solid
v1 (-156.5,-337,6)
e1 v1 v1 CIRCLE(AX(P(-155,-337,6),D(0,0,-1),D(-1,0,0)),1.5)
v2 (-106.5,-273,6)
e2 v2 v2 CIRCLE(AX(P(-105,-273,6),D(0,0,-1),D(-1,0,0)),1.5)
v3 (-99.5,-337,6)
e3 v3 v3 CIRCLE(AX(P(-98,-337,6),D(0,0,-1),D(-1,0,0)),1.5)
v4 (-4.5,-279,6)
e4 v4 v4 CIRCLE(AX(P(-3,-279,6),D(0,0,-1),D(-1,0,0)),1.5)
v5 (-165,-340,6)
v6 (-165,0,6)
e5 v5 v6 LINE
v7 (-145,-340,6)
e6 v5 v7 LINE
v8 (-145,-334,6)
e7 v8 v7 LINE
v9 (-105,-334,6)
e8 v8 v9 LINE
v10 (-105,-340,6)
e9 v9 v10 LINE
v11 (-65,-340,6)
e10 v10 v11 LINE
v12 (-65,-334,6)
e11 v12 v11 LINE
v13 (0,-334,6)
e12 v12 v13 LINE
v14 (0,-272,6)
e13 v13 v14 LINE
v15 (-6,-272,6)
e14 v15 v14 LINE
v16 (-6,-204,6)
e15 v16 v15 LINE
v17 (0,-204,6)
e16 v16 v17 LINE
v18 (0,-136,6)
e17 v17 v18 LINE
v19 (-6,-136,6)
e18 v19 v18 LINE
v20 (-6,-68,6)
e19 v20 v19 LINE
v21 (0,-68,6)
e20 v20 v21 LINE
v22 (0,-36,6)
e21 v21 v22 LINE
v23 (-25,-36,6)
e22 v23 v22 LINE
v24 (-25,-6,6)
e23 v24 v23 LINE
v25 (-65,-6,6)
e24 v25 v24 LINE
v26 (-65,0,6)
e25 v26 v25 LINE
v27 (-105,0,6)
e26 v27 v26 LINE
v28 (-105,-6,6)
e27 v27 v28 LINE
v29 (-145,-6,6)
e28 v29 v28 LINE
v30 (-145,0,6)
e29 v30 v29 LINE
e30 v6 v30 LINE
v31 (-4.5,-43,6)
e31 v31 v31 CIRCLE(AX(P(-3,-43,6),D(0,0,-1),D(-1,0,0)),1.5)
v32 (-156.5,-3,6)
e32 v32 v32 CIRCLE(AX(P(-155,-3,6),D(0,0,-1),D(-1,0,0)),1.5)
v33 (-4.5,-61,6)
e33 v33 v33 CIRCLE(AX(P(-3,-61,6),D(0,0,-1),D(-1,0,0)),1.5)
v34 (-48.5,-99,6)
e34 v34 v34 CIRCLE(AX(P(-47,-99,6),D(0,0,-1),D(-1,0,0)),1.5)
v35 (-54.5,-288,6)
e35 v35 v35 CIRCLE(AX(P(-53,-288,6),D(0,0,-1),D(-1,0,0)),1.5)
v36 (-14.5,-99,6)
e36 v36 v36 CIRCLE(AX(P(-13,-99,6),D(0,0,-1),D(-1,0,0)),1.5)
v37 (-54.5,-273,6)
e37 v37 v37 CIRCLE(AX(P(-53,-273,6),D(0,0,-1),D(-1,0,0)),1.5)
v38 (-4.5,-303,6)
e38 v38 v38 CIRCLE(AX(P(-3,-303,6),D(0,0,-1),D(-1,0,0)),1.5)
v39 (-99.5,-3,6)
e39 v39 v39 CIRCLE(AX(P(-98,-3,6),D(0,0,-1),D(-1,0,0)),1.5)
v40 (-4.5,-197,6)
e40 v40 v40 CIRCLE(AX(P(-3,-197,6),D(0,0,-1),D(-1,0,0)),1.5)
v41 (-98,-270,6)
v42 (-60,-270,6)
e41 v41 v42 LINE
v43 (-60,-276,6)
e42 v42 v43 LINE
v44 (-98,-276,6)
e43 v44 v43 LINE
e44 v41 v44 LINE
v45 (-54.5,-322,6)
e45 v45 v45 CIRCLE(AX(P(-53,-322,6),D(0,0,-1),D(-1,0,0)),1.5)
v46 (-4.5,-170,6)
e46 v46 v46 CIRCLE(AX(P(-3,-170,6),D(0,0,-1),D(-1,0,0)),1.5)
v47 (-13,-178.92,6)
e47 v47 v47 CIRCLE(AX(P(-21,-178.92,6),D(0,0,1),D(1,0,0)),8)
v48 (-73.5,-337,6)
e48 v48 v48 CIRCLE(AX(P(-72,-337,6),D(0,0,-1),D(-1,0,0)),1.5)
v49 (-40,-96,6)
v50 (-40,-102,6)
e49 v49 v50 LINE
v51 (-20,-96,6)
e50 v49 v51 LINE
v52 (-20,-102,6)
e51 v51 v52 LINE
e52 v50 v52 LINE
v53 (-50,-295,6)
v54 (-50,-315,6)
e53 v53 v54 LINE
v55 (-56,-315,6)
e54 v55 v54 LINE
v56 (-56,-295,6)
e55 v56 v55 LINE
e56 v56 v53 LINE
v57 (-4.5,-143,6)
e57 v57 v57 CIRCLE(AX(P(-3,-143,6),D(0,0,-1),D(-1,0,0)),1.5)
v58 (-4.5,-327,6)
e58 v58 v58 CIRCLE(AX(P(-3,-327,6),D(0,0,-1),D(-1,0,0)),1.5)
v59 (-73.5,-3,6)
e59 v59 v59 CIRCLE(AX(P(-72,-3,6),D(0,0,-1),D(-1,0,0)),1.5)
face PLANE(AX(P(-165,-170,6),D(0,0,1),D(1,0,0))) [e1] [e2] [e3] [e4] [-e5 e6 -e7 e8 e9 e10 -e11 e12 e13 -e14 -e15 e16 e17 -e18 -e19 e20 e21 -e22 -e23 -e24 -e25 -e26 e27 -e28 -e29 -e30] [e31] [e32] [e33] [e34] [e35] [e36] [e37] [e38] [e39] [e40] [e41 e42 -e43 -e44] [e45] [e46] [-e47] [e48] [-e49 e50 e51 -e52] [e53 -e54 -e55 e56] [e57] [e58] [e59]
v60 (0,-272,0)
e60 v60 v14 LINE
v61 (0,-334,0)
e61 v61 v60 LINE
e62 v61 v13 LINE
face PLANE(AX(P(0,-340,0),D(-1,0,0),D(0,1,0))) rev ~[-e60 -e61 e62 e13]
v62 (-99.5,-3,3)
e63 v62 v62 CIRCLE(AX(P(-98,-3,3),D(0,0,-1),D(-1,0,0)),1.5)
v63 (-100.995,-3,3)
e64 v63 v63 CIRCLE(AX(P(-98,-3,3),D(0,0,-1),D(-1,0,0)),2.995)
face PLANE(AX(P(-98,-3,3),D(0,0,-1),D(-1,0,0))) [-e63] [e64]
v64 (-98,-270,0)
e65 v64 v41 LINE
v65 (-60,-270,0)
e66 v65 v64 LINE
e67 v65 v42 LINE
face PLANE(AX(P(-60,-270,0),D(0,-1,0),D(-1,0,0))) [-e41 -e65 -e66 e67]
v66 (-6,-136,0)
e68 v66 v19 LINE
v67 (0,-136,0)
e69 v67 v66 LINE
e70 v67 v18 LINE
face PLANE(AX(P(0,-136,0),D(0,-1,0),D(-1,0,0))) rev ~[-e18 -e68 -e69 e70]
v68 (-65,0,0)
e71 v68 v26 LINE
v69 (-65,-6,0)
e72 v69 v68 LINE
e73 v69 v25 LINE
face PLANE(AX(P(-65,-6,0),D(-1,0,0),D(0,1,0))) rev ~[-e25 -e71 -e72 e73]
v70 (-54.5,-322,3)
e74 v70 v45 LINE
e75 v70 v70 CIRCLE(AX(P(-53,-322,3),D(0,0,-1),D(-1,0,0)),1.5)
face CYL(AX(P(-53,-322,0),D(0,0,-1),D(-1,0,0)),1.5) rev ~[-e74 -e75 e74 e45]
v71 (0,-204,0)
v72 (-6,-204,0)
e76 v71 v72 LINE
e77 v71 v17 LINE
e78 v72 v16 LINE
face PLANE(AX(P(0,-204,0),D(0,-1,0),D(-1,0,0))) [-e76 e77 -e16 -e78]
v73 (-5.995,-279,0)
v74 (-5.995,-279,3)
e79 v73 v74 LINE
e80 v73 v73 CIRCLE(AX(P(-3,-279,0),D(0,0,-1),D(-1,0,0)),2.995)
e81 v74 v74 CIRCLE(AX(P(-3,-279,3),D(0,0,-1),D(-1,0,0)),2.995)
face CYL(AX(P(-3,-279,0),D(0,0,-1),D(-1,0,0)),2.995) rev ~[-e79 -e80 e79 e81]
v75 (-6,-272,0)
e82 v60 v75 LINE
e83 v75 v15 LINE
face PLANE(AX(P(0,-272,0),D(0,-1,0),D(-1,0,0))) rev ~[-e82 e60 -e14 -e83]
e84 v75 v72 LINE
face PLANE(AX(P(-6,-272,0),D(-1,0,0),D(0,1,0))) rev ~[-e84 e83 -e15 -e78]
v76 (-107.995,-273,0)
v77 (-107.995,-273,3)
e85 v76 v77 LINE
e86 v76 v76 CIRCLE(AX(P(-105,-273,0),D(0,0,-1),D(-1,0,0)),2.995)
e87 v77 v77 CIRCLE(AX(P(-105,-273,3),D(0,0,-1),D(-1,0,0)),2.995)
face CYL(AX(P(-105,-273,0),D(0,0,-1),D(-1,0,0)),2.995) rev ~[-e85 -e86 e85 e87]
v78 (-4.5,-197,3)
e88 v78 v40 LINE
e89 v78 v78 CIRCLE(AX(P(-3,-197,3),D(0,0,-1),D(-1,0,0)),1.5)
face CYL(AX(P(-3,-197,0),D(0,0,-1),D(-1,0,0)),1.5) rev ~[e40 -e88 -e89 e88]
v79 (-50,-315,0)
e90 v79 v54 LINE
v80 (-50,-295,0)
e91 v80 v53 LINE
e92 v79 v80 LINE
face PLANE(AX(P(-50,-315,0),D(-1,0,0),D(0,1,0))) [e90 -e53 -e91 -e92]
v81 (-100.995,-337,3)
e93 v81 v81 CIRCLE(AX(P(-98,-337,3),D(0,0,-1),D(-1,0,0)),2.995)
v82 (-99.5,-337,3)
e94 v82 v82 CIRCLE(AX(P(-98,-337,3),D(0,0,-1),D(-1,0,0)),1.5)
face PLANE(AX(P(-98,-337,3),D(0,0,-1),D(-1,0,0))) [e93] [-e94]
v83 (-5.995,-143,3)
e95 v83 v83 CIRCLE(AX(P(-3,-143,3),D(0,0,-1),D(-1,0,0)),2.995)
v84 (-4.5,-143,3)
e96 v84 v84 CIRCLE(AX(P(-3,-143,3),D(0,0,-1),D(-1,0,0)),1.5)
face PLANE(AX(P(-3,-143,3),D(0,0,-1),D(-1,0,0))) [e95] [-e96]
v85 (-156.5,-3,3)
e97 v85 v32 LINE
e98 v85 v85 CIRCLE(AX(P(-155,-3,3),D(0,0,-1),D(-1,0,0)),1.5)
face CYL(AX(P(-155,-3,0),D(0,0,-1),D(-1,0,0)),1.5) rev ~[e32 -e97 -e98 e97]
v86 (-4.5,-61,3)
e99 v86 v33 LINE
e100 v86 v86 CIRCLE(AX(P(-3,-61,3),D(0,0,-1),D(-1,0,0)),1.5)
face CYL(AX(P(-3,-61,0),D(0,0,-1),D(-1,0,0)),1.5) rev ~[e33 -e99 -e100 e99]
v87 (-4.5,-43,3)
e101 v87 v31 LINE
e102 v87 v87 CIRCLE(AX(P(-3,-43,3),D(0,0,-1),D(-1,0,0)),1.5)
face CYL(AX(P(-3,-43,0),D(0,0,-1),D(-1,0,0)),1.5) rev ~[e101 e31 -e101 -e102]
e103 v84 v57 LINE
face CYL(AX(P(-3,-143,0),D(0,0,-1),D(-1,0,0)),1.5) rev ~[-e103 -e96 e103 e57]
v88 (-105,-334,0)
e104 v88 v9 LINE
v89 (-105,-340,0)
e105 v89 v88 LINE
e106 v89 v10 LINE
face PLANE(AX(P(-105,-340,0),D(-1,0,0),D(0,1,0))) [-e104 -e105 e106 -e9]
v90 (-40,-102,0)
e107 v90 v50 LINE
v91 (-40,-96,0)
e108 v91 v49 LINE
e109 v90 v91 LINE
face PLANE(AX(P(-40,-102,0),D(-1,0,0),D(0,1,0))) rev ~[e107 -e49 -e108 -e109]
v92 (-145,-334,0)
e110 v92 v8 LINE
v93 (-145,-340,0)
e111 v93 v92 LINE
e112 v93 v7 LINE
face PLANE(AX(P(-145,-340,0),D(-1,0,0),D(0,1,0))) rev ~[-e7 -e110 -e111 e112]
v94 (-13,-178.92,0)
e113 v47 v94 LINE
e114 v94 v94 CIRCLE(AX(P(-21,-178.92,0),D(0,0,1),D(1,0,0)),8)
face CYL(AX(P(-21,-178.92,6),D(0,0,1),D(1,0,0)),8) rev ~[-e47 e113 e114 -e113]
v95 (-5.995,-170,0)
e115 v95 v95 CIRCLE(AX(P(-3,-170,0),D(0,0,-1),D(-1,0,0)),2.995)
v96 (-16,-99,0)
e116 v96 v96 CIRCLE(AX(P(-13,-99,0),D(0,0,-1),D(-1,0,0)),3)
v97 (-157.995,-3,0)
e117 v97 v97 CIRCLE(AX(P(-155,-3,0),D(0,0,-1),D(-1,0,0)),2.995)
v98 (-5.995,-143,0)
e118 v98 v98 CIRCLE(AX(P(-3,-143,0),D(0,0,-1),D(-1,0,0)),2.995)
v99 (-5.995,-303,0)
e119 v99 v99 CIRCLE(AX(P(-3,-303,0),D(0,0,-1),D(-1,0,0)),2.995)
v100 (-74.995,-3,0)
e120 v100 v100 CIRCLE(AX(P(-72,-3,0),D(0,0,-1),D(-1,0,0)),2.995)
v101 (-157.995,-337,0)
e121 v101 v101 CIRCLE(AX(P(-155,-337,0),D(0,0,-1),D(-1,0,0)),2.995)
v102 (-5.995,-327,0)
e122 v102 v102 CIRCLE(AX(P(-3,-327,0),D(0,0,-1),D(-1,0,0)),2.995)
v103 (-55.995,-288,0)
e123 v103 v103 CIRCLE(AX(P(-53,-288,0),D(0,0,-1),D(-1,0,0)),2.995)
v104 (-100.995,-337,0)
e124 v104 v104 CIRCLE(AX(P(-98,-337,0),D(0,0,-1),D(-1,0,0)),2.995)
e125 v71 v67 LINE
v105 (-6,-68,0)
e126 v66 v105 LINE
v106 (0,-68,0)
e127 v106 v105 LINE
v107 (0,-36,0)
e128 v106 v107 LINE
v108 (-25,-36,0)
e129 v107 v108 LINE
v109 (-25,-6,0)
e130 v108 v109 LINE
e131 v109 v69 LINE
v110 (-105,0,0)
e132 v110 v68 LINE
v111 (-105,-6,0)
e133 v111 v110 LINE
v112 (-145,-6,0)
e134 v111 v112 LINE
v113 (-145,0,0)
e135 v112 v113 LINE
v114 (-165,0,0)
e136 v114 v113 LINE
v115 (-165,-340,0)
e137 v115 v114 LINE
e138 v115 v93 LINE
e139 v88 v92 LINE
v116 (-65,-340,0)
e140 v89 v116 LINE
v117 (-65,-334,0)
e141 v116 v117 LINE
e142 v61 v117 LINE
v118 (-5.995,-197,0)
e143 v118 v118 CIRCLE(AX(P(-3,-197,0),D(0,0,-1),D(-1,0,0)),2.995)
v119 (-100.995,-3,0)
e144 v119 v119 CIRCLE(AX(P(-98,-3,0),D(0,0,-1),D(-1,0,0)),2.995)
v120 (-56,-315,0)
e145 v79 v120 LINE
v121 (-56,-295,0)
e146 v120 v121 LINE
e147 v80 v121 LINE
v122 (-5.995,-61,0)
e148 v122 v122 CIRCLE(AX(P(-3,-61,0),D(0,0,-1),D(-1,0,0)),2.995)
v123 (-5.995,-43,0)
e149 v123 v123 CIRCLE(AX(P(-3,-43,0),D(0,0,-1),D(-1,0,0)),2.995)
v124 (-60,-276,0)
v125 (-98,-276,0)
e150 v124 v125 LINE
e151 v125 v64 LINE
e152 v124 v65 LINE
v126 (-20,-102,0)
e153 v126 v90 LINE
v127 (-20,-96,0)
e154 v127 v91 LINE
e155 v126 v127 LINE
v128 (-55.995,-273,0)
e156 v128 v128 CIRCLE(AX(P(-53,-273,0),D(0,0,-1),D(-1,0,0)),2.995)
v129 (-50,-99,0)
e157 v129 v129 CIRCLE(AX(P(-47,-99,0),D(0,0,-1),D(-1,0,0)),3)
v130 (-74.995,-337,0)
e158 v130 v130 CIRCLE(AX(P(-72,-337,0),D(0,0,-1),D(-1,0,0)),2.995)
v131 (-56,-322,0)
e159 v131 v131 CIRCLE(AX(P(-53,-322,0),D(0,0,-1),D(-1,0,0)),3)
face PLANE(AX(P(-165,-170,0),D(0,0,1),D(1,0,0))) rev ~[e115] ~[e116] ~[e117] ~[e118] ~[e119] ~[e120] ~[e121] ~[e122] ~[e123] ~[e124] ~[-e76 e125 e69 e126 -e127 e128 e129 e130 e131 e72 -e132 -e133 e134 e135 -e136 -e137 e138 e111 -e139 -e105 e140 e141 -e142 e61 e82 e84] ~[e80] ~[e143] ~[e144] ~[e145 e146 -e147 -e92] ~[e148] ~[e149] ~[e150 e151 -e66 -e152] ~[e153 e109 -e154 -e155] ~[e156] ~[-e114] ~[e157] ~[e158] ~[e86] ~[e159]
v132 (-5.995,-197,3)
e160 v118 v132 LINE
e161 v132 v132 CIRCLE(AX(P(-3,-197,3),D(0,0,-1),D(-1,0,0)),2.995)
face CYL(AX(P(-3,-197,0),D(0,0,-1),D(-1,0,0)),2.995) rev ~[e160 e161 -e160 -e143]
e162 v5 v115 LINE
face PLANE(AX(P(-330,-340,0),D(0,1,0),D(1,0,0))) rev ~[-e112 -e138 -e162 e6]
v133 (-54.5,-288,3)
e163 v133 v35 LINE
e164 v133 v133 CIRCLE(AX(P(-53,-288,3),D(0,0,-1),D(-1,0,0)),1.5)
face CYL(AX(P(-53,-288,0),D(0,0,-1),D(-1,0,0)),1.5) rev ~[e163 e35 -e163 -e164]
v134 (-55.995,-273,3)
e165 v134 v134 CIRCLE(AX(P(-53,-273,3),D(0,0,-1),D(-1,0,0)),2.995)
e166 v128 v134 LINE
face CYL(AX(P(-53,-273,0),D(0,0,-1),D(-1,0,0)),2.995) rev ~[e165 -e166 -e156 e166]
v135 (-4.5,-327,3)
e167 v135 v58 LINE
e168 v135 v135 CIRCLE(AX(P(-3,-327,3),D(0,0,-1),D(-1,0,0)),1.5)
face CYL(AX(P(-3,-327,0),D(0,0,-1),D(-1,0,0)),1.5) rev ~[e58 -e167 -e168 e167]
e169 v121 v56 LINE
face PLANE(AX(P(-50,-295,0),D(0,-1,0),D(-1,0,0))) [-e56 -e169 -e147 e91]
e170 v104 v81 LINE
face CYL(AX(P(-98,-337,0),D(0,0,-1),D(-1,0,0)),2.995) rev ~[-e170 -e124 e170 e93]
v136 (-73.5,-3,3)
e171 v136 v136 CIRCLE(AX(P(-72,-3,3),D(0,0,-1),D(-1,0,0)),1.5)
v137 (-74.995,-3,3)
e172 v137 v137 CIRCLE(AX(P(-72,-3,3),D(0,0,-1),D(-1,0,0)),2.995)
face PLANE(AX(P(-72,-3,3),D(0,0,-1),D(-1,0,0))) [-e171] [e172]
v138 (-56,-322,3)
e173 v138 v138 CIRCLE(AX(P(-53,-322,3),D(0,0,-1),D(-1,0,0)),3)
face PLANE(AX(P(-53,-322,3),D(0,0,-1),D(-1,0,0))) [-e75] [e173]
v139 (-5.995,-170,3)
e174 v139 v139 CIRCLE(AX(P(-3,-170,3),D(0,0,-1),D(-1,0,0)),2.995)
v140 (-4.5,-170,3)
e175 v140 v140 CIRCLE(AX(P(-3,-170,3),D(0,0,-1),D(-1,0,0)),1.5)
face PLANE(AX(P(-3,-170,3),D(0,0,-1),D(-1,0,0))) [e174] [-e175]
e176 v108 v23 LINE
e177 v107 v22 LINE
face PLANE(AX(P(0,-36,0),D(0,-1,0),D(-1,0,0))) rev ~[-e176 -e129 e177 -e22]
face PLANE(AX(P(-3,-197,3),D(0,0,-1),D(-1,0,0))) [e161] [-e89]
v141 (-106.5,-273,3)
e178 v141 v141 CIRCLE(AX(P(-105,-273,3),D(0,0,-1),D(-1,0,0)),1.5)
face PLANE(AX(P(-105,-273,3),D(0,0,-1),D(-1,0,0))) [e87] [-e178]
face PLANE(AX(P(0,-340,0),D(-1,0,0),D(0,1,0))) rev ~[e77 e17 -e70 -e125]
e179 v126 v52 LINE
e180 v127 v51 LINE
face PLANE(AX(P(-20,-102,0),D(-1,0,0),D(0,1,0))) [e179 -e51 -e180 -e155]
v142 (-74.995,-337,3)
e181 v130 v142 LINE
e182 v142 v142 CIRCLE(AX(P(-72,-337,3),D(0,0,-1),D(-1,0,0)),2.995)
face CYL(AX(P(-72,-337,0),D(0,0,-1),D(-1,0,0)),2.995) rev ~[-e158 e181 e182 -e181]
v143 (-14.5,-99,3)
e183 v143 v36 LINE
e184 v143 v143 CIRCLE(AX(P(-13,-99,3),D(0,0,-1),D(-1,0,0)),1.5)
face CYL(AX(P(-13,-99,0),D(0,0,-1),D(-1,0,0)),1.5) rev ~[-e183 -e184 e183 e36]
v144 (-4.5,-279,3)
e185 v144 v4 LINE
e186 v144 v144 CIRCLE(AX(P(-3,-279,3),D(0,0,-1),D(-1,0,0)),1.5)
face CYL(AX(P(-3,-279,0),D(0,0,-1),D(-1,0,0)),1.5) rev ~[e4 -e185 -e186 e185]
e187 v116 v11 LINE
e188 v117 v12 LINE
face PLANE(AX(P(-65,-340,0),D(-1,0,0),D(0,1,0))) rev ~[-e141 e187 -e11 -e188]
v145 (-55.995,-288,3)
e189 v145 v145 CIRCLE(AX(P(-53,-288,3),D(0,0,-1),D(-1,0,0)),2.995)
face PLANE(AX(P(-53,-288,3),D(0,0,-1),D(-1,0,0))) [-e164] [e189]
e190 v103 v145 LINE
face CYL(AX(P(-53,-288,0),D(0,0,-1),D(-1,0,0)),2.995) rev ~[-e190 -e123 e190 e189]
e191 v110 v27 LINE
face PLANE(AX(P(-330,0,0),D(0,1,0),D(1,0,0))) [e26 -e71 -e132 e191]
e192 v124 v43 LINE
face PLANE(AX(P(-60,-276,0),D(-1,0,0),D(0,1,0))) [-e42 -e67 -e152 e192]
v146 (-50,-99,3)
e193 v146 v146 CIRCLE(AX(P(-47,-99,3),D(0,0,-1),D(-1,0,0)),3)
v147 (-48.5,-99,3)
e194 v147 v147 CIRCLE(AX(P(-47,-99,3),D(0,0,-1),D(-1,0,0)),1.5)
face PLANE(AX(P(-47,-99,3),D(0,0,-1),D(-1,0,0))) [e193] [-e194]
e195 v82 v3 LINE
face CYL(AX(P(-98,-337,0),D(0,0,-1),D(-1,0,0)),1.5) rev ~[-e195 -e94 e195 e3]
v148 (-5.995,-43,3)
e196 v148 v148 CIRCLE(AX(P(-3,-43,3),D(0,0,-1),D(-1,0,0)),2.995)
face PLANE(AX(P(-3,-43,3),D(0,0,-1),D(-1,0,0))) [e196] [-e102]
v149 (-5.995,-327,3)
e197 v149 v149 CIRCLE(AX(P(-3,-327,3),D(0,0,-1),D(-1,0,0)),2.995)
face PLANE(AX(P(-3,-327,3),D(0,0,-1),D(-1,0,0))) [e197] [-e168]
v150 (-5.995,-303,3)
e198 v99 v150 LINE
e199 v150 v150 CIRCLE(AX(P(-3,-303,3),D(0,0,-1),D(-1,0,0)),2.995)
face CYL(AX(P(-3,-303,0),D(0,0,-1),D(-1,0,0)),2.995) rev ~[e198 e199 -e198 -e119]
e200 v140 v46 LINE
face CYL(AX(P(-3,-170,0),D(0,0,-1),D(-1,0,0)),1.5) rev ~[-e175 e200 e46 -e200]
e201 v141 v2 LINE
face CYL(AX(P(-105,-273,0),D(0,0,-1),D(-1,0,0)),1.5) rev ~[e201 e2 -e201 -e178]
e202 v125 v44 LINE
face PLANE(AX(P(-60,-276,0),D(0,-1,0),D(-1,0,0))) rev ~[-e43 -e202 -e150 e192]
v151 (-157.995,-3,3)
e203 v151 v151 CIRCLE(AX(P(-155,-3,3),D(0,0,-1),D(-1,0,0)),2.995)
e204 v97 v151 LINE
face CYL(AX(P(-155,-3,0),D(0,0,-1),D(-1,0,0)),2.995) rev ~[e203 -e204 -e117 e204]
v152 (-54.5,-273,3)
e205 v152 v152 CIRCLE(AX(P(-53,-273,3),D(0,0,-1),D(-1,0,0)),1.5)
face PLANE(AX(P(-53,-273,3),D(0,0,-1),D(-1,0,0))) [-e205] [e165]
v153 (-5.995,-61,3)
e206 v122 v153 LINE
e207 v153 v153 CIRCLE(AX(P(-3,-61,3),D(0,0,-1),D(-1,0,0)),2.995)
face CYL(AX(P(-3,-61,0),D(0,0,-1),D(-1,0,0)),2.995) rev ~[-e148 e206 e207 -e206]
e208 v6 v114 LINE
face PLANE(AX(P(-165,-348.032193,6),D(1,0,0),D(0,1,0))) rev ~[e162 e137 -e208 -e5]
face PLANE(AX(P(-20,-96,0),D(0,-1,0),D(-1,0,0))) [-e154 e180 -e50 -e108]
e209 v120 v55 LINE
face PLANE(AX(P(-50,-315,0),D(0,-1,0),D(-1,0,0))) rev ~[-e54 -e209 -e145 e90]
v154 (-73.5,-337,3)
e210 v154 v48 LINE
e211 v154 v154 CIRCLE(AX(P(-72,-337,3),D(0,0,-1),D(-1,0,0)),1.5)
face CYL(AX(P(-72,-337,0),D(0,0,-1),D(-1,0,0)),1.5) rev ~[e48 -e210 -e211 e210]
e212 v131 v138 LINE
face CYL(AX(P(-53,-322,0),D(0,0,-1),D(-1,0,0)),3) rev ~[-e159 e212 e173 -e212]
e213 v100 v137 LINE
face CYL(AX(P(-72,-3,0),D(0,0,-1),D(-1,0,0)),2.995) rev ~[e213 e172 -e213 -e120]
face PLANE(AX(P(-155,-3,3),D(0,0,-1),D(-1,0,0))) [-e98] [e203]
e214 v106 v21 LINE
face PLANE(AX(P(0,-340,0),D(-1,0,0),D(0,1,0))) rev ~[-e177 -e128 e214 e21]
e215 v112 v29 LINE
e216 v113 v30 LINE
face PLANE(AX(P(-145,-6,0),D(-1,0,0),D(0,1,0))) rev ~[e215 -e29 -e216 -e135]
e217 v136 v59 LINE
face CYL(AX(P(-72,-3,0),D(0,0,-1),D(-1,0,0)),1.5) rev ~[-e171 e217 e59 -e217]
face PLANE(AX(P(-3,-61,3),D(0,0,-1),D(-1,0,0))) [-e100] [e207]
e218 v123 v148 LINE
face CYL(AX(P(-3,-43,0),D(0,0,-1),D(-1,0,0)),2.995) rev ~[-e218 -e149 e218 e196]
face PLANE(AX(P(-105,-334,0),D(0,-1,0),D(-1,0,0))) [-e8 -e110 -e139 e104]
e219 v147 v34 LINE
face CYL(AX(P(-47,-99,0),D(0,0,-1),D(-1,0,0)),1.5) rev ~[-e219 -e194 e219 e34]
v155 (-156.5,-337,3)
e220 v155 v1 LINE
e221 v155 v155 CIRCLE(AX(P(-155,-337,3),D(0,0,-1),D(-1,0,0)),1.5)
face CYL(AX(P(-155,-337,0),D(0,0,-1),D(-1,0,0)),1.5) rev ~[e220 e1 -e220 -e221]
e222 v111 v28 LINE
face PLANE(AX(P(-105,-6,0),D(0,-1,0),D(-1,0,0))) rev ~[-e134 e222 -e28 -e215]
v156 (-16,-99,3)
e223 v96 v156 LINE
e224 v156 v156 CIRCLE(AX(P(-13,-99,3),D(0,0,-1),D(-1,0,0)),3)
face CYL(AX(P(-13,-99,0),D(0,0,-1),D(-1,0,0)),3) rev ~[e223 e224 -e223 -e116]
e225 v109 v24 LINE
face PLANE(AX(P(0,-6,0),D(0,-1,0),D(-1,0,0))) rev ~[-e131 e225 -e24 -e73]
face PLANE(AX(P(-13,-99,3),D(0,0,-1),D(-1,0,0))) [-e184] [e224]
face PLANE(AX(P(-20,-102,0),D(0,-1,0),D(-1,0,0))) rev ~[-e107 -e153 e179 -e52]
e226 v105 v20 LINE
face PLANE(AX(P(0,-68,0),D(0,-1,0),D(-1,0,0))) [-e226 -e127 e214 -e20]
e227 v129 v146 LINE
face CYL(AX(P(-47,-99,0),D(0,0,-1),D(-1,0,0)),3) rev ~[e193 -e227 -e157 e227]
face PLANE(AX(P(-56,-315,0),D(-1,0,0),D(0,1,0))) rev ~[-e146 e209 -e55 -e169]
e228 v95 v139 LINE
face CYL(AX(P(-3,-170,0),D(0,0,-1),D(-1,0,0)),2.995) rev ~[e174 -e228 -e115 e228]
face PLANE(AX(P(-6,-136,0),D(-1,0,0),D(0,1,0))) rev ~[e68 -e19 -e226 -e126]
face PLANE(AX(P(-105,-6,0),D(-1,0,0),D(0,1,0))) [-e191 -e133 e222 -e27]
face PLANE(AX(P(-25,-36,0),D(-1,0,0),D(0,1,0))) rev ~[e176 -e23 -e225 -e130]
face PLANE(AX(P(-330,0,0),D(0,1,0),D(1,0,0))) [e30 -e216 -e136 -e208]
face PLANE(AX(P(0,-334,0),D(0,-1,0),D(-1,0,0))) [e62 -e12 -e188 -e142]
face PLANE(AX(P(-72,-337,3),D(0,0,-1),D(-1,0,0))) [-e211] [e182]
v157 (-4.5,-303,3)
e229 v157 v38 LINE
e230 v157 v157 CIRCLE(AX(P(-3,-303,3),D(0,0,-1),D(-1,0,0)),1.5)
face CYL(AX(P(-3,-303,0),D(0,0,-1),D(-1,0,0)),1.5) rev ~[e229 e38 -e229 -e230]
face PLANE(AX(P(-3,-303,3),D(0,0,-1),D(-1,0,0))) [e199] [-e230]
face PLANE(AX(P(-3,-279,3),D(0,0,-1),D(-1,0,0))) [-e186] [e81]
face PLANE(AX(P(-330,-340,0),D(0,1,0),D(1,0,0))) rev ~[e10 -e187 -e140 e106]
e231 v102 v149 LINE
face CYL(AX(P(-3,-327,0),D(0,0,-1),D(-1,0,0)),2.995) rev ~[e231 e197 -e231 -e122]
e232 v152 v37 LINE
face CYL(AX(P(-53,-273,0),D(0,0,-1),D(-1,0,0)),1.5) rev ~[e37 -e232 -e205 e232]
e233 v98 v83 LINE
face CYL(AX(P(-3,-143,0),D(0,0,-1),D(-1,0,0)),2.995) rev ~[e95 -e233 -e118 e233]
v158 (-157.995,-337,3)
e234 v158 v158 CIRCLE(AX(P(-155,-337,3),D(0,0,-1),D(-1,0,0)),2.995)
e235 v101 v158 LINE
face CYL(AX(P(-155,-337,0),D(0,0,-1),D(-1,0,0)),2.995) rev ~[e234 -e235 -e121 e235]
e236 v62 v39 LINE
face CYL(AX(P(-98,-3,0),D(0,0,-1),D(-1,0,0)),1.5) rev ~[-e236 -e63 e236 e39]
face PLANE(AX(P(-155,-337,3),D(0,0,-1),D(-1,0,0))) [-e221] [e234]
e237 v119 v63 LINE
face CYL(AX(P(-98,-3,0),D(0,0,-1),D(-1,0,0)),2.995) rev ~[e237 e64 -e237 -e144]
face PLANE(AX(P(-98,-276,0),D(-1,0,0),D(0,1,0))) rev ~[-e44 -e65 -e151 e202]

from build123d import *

# Parameters (mm, degrees)
ESQUISSE2_W                            = 330
ESQUISSE2_H                            = 340
BOSS_EXTRU_1_DEPTH                     = 6
ESQUISSE4_W                            = 65
ESQUISSE4_H                            = 6
ESQUISSE4_W_2                          = 40
ESQUISSE4_W_3                          = 6
ESQUISSE4_H_2                          = 68
ENL_V_MAT_ENCOCHE_BORD_DEPTH           = 474.852297662
ESQUISSE5_W                            = 38
ESQUISSE5_H                            = 6
ESQUISSE5_W_2                          = 15
ESQUISSE5_H_2                          = 10
ESQUISSE5_W_3                          = 25
ESQUISSE5_H_3                          = 30
ESQUISSE5_W_4                          = 20
ESQUISSE5_W_5                          = 6
ESQUISSE5_H_4                          = 20
ENL_V_MAT_ENCOCHE_TAGE_ROULETTES_DEPTH = 474.852297662
ESQUISSE6_R                            = 8
ENL_V_MAT_EXTRU_1_DEPTH                = 10
ESQUISSE7_W                            = 170.318171934
ESQUISSE7_H                            = 348.032193401
ENL_V_MAT_EXTRU_2_DEPTH                = 474.852297662
ESQUISSE8_R                            = 1.5
ENL_V_MAT_EXTRU_3_DEPTH                = 378.969575495
ESQUISSE9_R                            = 2.995
ESQUISSE9_R_2                          = 3
ENL_V_MAT_EXTRU_4_DEPTH                = 3


with BuildPart() as part:
    # Esquisse2 → Boss.-Extru.1 (new body)
    with BuildSketch(Plane.XY):
        with Locations((-165, -170)):
            Rectangle(ESQUISSE2_W, ESQUISSE2_H)
    extrude(amount=BOSS_EXTRU_1_DEPTH)

    # Esquisse4 → Enlèv. mat encoche bord (cut, through all)
    with BuildSketch(Plane(origin=(0, 0, 0), x_dir=(-1, 0, 0), z_dir=(0, 0, -1))):
        with Locations((297.5, -3)):
            Rectangle(ESQUISSE4_W, ESQUISSE4_H)
        with Locations((205, -3)):
            Rectangle(ESQUISSE4_W_2, ESQUISSE4_H)
        with Locations((125, -3)):
            Rectangle(ESQUISSE4_W_2, ESQUISSE4_H)
        with Locations((32.5, -3)):
            Rectangle(ESQUISSE4_W, ESQUISSE4_H)
        with Locations((327, -102)):
            Rectangle(ESQUISSE4_W_3, ESQUISSE4_H_2)
        with Locations((3, -102)):
            Rectangle(ESQUISSE4_W_3, ESQUISSE4_H_2)
        with Locations((297.5, -337)):
            Rectangle(ESQUISSE4_W, ESQUISSE4_H)
        with Locations((205, -337)):
            Rectangle(ESQUISSE4_W_2, ESQUISSE4_H)
        with Locations((125, -337)):
            Rectangle(ESQUISSE4_W_2, ESQUISSE4_H)
        with Locations((32.5, -337)):
            Rectangle(ESQUISSE4_W, ESQUISSE4_H)
        with Locations((327, -238)):
            Rectangle(ESQUISSE4_W_3, ESQUISSE4_H_2)
        with Locations((3, -238)):
            Rectangle(ESQUISSE4_W_3, ESQUISSE4_H_2)
    extrude(amount=-ENL_V_MAT_ENCOCHE_BORD_DEPTH, mode=Mode.SUBTRACT)

    # Esquisse5 → Enlèv. mat encoche étage + roulettes (cut, through all)
    with BuildSketch(Plane(origin=(0, 0, 0), x_dir=(-1, 0, 0), z_dir=(0, 0, -1))):
        with Locations((251, -273)):
            Rectangle(ESQUISSE5_W, ESQUISSE5_H)
        with Locations((79, -273)):
            Rectangle(ESQUISSE5_W, ESQUISSE5_H)
        with Locations((322.5, -11)):
            Rectangle(ESQUISSE5_W_2, ESQUISSE5_H_2)
        with Locations((12.5, -21)):
            Rectangle(ESQUISSE5_W_3, ESQUISSE5_H_3)
        with Locations((300, -99)):
            Rectangle(ESQUISSE5_W_4, ESQUISSE5_H)
        with Locations((30, -99)):
            Rectangle(ESQUISSE5_W_4, ESQUISSE5_H)
        with Locations((53, -305)):
            Rectangle(ESQUISSE5_W_5, ESQUISSE5_H_4)
    extrude(amount=-ENL_V_MAT_ENCOCHE_TAGE_ROULETTES_DEPTH, mode=Mode.SUBTRACT)

    # Esquisse6 → Enlèv. mat.-Extru.1 (cut)
    with BuildSketch(Plane.XY.offset(6)):
        with Locations((-21, -178.92)):
            Circle(ESQUISSE6_R)
        with Locations((-309, -178.92)):
            Circle(ESQUISSE6_R)
    extrude(amount=-ENL_V_MAT_EXTRU_1_DEPTH, mode=Mode.SUBTRACT)

    # Esquisse7 → Enlèv. mat.-Extru.2 (cut, through all)
    with BuildSketch(Plane.XY.offset(6)):
        with Locations((-250.159085967, -174.016096701)):
            Rectangle(ESQUISSE7_W, ESQUISSE7_H)
    extrude(amount=-ENL_V_MAT_EXTRU_2_DEPTH, mode=Mode.SUBTRACT)

    # Esquisse8 → Enlèv. mat.-Extru.3 (cut, through all)
    with BuildSketch(Plane(origin=(0, 0, 0), x_dir=(-1, 0, 0), z_dir=(0, 0, -1))):
        with Locations((155, -337)):
            Circle(ESQUISSE8_R)
        with Locations((98, -337)):
            Circle(ESQUISSE8_R)
        with Locations((72, -337)):
            Circle(ESQUISSE8_R)
        with Locations((3, -327)):
            Circle(ESQUISSE8_R)
        with Locations((3, -303)):
            Circle(ESQUISSE8_R)
        with Locations((3, -279)):
            Circle(ESQUISSE8_R)
        with Locations((53, -288)):
            Circle(ESQUISSE8_R)
        with Locations((53, -322)):
            Circle(ESQUISSE8_R)
        with Locations((53, -273)):
            Circle(ESQUISSE8_R)
        with Locations((105, -273)):
            Circle(ESQUISSE8_R)
        with Locations((3, -197)):
            Circle(ESQUISSE8_R)
        with Locations((3, -170)):
            Circle(ESQUISSE8_R)
        with Locations((3, -143)):
            Circle(ESQUISSE8_R)
        with Locations((3, -61)):
            Circle(ESQUISSE8_R)
        with Locations((3, -43)):
            Circle(ESQUISSE8_R)
        with Locations((98, -3)):
            Circle(ESQUISSE8_R)
        with Locations((72, -3)):
            Circle(ESQUISSE8_R)
        with Locations((155, -3)):
            Circle(ESQUISSE8_R)
        with Locations((47, -99)):
            Circle(ESQUISSE8_R)
        with Locations((13, -99)):
            Circle(ESQUISSE8_R)
    extrude(amount=-ENL_V_MAT_EXTRU_3_DEPTH, mode=Mode.SUBTRACT)

    # Esquisse9 → Enlèv. mat.-Extru.4 (cut)
    with BuildSketch(Plane(origin=(0, 0, 0), x_dir=(-1, 0, 0), z_dir=(0, 0, -1))):
        with Locations((155, -337)):
            Circle(ESQUISSE9_R)
        with Locations((98, -337)):
            Circle(ESQUISSE9_R)
        with Locations((72, -337)):
            Circle(ESQUISSE9_R)
        with Locations((53, -322)):
            Circle(ESQUISSE9_R_2)
        with Locations((53, -288)):
            Circle(ESQUISSE9_R)
        with Locations((53, -273)):
            Circle(ESQUISSE9_R)
        with Locations((105, -273)):
            Circle(ESQUISSE9_R)
        with Locations((3, -279)):
            Circle(ESQUISSE9_R)
        with Locations((3, -303)):
            Circle(ESQUISSE9_R)
        with Locations((3, -327)):
            Circle(ESQUISSE9_R)
        with Locations((3, -197)):
            Circle(ESQUISSE9_R)
        with Locations((3, -170)):
            Circle(ESQUISSE9_R)
        with Locations((3, -143)):
            Circle(ESQUISSE9_R)
        with Locations((47, -99)):
            Circle(ESQUISSE9_R_2)
        with Locations((13, -99)):
            Circle(ESQUISSE9_R_2)
        with Locations((3, -61)):
            Circle(ESQUISSE9_R)
        with Locations((3, -43)):
            Circle(ESQUISSE9_R)
        with Locations((98, -3)):
            Circle(ESQUISSE9_R)
        with Locations((72, -3)):
            Circle(ESQUISSE9_R)
        with Locations((155, -3)):
            Circle(ESQUISSE9_R)
    extrude(amount=-ENL_V_MAT_EXTRU_4_DEPTH, mode=Mode.SUBTRACT)


solid = part.part
